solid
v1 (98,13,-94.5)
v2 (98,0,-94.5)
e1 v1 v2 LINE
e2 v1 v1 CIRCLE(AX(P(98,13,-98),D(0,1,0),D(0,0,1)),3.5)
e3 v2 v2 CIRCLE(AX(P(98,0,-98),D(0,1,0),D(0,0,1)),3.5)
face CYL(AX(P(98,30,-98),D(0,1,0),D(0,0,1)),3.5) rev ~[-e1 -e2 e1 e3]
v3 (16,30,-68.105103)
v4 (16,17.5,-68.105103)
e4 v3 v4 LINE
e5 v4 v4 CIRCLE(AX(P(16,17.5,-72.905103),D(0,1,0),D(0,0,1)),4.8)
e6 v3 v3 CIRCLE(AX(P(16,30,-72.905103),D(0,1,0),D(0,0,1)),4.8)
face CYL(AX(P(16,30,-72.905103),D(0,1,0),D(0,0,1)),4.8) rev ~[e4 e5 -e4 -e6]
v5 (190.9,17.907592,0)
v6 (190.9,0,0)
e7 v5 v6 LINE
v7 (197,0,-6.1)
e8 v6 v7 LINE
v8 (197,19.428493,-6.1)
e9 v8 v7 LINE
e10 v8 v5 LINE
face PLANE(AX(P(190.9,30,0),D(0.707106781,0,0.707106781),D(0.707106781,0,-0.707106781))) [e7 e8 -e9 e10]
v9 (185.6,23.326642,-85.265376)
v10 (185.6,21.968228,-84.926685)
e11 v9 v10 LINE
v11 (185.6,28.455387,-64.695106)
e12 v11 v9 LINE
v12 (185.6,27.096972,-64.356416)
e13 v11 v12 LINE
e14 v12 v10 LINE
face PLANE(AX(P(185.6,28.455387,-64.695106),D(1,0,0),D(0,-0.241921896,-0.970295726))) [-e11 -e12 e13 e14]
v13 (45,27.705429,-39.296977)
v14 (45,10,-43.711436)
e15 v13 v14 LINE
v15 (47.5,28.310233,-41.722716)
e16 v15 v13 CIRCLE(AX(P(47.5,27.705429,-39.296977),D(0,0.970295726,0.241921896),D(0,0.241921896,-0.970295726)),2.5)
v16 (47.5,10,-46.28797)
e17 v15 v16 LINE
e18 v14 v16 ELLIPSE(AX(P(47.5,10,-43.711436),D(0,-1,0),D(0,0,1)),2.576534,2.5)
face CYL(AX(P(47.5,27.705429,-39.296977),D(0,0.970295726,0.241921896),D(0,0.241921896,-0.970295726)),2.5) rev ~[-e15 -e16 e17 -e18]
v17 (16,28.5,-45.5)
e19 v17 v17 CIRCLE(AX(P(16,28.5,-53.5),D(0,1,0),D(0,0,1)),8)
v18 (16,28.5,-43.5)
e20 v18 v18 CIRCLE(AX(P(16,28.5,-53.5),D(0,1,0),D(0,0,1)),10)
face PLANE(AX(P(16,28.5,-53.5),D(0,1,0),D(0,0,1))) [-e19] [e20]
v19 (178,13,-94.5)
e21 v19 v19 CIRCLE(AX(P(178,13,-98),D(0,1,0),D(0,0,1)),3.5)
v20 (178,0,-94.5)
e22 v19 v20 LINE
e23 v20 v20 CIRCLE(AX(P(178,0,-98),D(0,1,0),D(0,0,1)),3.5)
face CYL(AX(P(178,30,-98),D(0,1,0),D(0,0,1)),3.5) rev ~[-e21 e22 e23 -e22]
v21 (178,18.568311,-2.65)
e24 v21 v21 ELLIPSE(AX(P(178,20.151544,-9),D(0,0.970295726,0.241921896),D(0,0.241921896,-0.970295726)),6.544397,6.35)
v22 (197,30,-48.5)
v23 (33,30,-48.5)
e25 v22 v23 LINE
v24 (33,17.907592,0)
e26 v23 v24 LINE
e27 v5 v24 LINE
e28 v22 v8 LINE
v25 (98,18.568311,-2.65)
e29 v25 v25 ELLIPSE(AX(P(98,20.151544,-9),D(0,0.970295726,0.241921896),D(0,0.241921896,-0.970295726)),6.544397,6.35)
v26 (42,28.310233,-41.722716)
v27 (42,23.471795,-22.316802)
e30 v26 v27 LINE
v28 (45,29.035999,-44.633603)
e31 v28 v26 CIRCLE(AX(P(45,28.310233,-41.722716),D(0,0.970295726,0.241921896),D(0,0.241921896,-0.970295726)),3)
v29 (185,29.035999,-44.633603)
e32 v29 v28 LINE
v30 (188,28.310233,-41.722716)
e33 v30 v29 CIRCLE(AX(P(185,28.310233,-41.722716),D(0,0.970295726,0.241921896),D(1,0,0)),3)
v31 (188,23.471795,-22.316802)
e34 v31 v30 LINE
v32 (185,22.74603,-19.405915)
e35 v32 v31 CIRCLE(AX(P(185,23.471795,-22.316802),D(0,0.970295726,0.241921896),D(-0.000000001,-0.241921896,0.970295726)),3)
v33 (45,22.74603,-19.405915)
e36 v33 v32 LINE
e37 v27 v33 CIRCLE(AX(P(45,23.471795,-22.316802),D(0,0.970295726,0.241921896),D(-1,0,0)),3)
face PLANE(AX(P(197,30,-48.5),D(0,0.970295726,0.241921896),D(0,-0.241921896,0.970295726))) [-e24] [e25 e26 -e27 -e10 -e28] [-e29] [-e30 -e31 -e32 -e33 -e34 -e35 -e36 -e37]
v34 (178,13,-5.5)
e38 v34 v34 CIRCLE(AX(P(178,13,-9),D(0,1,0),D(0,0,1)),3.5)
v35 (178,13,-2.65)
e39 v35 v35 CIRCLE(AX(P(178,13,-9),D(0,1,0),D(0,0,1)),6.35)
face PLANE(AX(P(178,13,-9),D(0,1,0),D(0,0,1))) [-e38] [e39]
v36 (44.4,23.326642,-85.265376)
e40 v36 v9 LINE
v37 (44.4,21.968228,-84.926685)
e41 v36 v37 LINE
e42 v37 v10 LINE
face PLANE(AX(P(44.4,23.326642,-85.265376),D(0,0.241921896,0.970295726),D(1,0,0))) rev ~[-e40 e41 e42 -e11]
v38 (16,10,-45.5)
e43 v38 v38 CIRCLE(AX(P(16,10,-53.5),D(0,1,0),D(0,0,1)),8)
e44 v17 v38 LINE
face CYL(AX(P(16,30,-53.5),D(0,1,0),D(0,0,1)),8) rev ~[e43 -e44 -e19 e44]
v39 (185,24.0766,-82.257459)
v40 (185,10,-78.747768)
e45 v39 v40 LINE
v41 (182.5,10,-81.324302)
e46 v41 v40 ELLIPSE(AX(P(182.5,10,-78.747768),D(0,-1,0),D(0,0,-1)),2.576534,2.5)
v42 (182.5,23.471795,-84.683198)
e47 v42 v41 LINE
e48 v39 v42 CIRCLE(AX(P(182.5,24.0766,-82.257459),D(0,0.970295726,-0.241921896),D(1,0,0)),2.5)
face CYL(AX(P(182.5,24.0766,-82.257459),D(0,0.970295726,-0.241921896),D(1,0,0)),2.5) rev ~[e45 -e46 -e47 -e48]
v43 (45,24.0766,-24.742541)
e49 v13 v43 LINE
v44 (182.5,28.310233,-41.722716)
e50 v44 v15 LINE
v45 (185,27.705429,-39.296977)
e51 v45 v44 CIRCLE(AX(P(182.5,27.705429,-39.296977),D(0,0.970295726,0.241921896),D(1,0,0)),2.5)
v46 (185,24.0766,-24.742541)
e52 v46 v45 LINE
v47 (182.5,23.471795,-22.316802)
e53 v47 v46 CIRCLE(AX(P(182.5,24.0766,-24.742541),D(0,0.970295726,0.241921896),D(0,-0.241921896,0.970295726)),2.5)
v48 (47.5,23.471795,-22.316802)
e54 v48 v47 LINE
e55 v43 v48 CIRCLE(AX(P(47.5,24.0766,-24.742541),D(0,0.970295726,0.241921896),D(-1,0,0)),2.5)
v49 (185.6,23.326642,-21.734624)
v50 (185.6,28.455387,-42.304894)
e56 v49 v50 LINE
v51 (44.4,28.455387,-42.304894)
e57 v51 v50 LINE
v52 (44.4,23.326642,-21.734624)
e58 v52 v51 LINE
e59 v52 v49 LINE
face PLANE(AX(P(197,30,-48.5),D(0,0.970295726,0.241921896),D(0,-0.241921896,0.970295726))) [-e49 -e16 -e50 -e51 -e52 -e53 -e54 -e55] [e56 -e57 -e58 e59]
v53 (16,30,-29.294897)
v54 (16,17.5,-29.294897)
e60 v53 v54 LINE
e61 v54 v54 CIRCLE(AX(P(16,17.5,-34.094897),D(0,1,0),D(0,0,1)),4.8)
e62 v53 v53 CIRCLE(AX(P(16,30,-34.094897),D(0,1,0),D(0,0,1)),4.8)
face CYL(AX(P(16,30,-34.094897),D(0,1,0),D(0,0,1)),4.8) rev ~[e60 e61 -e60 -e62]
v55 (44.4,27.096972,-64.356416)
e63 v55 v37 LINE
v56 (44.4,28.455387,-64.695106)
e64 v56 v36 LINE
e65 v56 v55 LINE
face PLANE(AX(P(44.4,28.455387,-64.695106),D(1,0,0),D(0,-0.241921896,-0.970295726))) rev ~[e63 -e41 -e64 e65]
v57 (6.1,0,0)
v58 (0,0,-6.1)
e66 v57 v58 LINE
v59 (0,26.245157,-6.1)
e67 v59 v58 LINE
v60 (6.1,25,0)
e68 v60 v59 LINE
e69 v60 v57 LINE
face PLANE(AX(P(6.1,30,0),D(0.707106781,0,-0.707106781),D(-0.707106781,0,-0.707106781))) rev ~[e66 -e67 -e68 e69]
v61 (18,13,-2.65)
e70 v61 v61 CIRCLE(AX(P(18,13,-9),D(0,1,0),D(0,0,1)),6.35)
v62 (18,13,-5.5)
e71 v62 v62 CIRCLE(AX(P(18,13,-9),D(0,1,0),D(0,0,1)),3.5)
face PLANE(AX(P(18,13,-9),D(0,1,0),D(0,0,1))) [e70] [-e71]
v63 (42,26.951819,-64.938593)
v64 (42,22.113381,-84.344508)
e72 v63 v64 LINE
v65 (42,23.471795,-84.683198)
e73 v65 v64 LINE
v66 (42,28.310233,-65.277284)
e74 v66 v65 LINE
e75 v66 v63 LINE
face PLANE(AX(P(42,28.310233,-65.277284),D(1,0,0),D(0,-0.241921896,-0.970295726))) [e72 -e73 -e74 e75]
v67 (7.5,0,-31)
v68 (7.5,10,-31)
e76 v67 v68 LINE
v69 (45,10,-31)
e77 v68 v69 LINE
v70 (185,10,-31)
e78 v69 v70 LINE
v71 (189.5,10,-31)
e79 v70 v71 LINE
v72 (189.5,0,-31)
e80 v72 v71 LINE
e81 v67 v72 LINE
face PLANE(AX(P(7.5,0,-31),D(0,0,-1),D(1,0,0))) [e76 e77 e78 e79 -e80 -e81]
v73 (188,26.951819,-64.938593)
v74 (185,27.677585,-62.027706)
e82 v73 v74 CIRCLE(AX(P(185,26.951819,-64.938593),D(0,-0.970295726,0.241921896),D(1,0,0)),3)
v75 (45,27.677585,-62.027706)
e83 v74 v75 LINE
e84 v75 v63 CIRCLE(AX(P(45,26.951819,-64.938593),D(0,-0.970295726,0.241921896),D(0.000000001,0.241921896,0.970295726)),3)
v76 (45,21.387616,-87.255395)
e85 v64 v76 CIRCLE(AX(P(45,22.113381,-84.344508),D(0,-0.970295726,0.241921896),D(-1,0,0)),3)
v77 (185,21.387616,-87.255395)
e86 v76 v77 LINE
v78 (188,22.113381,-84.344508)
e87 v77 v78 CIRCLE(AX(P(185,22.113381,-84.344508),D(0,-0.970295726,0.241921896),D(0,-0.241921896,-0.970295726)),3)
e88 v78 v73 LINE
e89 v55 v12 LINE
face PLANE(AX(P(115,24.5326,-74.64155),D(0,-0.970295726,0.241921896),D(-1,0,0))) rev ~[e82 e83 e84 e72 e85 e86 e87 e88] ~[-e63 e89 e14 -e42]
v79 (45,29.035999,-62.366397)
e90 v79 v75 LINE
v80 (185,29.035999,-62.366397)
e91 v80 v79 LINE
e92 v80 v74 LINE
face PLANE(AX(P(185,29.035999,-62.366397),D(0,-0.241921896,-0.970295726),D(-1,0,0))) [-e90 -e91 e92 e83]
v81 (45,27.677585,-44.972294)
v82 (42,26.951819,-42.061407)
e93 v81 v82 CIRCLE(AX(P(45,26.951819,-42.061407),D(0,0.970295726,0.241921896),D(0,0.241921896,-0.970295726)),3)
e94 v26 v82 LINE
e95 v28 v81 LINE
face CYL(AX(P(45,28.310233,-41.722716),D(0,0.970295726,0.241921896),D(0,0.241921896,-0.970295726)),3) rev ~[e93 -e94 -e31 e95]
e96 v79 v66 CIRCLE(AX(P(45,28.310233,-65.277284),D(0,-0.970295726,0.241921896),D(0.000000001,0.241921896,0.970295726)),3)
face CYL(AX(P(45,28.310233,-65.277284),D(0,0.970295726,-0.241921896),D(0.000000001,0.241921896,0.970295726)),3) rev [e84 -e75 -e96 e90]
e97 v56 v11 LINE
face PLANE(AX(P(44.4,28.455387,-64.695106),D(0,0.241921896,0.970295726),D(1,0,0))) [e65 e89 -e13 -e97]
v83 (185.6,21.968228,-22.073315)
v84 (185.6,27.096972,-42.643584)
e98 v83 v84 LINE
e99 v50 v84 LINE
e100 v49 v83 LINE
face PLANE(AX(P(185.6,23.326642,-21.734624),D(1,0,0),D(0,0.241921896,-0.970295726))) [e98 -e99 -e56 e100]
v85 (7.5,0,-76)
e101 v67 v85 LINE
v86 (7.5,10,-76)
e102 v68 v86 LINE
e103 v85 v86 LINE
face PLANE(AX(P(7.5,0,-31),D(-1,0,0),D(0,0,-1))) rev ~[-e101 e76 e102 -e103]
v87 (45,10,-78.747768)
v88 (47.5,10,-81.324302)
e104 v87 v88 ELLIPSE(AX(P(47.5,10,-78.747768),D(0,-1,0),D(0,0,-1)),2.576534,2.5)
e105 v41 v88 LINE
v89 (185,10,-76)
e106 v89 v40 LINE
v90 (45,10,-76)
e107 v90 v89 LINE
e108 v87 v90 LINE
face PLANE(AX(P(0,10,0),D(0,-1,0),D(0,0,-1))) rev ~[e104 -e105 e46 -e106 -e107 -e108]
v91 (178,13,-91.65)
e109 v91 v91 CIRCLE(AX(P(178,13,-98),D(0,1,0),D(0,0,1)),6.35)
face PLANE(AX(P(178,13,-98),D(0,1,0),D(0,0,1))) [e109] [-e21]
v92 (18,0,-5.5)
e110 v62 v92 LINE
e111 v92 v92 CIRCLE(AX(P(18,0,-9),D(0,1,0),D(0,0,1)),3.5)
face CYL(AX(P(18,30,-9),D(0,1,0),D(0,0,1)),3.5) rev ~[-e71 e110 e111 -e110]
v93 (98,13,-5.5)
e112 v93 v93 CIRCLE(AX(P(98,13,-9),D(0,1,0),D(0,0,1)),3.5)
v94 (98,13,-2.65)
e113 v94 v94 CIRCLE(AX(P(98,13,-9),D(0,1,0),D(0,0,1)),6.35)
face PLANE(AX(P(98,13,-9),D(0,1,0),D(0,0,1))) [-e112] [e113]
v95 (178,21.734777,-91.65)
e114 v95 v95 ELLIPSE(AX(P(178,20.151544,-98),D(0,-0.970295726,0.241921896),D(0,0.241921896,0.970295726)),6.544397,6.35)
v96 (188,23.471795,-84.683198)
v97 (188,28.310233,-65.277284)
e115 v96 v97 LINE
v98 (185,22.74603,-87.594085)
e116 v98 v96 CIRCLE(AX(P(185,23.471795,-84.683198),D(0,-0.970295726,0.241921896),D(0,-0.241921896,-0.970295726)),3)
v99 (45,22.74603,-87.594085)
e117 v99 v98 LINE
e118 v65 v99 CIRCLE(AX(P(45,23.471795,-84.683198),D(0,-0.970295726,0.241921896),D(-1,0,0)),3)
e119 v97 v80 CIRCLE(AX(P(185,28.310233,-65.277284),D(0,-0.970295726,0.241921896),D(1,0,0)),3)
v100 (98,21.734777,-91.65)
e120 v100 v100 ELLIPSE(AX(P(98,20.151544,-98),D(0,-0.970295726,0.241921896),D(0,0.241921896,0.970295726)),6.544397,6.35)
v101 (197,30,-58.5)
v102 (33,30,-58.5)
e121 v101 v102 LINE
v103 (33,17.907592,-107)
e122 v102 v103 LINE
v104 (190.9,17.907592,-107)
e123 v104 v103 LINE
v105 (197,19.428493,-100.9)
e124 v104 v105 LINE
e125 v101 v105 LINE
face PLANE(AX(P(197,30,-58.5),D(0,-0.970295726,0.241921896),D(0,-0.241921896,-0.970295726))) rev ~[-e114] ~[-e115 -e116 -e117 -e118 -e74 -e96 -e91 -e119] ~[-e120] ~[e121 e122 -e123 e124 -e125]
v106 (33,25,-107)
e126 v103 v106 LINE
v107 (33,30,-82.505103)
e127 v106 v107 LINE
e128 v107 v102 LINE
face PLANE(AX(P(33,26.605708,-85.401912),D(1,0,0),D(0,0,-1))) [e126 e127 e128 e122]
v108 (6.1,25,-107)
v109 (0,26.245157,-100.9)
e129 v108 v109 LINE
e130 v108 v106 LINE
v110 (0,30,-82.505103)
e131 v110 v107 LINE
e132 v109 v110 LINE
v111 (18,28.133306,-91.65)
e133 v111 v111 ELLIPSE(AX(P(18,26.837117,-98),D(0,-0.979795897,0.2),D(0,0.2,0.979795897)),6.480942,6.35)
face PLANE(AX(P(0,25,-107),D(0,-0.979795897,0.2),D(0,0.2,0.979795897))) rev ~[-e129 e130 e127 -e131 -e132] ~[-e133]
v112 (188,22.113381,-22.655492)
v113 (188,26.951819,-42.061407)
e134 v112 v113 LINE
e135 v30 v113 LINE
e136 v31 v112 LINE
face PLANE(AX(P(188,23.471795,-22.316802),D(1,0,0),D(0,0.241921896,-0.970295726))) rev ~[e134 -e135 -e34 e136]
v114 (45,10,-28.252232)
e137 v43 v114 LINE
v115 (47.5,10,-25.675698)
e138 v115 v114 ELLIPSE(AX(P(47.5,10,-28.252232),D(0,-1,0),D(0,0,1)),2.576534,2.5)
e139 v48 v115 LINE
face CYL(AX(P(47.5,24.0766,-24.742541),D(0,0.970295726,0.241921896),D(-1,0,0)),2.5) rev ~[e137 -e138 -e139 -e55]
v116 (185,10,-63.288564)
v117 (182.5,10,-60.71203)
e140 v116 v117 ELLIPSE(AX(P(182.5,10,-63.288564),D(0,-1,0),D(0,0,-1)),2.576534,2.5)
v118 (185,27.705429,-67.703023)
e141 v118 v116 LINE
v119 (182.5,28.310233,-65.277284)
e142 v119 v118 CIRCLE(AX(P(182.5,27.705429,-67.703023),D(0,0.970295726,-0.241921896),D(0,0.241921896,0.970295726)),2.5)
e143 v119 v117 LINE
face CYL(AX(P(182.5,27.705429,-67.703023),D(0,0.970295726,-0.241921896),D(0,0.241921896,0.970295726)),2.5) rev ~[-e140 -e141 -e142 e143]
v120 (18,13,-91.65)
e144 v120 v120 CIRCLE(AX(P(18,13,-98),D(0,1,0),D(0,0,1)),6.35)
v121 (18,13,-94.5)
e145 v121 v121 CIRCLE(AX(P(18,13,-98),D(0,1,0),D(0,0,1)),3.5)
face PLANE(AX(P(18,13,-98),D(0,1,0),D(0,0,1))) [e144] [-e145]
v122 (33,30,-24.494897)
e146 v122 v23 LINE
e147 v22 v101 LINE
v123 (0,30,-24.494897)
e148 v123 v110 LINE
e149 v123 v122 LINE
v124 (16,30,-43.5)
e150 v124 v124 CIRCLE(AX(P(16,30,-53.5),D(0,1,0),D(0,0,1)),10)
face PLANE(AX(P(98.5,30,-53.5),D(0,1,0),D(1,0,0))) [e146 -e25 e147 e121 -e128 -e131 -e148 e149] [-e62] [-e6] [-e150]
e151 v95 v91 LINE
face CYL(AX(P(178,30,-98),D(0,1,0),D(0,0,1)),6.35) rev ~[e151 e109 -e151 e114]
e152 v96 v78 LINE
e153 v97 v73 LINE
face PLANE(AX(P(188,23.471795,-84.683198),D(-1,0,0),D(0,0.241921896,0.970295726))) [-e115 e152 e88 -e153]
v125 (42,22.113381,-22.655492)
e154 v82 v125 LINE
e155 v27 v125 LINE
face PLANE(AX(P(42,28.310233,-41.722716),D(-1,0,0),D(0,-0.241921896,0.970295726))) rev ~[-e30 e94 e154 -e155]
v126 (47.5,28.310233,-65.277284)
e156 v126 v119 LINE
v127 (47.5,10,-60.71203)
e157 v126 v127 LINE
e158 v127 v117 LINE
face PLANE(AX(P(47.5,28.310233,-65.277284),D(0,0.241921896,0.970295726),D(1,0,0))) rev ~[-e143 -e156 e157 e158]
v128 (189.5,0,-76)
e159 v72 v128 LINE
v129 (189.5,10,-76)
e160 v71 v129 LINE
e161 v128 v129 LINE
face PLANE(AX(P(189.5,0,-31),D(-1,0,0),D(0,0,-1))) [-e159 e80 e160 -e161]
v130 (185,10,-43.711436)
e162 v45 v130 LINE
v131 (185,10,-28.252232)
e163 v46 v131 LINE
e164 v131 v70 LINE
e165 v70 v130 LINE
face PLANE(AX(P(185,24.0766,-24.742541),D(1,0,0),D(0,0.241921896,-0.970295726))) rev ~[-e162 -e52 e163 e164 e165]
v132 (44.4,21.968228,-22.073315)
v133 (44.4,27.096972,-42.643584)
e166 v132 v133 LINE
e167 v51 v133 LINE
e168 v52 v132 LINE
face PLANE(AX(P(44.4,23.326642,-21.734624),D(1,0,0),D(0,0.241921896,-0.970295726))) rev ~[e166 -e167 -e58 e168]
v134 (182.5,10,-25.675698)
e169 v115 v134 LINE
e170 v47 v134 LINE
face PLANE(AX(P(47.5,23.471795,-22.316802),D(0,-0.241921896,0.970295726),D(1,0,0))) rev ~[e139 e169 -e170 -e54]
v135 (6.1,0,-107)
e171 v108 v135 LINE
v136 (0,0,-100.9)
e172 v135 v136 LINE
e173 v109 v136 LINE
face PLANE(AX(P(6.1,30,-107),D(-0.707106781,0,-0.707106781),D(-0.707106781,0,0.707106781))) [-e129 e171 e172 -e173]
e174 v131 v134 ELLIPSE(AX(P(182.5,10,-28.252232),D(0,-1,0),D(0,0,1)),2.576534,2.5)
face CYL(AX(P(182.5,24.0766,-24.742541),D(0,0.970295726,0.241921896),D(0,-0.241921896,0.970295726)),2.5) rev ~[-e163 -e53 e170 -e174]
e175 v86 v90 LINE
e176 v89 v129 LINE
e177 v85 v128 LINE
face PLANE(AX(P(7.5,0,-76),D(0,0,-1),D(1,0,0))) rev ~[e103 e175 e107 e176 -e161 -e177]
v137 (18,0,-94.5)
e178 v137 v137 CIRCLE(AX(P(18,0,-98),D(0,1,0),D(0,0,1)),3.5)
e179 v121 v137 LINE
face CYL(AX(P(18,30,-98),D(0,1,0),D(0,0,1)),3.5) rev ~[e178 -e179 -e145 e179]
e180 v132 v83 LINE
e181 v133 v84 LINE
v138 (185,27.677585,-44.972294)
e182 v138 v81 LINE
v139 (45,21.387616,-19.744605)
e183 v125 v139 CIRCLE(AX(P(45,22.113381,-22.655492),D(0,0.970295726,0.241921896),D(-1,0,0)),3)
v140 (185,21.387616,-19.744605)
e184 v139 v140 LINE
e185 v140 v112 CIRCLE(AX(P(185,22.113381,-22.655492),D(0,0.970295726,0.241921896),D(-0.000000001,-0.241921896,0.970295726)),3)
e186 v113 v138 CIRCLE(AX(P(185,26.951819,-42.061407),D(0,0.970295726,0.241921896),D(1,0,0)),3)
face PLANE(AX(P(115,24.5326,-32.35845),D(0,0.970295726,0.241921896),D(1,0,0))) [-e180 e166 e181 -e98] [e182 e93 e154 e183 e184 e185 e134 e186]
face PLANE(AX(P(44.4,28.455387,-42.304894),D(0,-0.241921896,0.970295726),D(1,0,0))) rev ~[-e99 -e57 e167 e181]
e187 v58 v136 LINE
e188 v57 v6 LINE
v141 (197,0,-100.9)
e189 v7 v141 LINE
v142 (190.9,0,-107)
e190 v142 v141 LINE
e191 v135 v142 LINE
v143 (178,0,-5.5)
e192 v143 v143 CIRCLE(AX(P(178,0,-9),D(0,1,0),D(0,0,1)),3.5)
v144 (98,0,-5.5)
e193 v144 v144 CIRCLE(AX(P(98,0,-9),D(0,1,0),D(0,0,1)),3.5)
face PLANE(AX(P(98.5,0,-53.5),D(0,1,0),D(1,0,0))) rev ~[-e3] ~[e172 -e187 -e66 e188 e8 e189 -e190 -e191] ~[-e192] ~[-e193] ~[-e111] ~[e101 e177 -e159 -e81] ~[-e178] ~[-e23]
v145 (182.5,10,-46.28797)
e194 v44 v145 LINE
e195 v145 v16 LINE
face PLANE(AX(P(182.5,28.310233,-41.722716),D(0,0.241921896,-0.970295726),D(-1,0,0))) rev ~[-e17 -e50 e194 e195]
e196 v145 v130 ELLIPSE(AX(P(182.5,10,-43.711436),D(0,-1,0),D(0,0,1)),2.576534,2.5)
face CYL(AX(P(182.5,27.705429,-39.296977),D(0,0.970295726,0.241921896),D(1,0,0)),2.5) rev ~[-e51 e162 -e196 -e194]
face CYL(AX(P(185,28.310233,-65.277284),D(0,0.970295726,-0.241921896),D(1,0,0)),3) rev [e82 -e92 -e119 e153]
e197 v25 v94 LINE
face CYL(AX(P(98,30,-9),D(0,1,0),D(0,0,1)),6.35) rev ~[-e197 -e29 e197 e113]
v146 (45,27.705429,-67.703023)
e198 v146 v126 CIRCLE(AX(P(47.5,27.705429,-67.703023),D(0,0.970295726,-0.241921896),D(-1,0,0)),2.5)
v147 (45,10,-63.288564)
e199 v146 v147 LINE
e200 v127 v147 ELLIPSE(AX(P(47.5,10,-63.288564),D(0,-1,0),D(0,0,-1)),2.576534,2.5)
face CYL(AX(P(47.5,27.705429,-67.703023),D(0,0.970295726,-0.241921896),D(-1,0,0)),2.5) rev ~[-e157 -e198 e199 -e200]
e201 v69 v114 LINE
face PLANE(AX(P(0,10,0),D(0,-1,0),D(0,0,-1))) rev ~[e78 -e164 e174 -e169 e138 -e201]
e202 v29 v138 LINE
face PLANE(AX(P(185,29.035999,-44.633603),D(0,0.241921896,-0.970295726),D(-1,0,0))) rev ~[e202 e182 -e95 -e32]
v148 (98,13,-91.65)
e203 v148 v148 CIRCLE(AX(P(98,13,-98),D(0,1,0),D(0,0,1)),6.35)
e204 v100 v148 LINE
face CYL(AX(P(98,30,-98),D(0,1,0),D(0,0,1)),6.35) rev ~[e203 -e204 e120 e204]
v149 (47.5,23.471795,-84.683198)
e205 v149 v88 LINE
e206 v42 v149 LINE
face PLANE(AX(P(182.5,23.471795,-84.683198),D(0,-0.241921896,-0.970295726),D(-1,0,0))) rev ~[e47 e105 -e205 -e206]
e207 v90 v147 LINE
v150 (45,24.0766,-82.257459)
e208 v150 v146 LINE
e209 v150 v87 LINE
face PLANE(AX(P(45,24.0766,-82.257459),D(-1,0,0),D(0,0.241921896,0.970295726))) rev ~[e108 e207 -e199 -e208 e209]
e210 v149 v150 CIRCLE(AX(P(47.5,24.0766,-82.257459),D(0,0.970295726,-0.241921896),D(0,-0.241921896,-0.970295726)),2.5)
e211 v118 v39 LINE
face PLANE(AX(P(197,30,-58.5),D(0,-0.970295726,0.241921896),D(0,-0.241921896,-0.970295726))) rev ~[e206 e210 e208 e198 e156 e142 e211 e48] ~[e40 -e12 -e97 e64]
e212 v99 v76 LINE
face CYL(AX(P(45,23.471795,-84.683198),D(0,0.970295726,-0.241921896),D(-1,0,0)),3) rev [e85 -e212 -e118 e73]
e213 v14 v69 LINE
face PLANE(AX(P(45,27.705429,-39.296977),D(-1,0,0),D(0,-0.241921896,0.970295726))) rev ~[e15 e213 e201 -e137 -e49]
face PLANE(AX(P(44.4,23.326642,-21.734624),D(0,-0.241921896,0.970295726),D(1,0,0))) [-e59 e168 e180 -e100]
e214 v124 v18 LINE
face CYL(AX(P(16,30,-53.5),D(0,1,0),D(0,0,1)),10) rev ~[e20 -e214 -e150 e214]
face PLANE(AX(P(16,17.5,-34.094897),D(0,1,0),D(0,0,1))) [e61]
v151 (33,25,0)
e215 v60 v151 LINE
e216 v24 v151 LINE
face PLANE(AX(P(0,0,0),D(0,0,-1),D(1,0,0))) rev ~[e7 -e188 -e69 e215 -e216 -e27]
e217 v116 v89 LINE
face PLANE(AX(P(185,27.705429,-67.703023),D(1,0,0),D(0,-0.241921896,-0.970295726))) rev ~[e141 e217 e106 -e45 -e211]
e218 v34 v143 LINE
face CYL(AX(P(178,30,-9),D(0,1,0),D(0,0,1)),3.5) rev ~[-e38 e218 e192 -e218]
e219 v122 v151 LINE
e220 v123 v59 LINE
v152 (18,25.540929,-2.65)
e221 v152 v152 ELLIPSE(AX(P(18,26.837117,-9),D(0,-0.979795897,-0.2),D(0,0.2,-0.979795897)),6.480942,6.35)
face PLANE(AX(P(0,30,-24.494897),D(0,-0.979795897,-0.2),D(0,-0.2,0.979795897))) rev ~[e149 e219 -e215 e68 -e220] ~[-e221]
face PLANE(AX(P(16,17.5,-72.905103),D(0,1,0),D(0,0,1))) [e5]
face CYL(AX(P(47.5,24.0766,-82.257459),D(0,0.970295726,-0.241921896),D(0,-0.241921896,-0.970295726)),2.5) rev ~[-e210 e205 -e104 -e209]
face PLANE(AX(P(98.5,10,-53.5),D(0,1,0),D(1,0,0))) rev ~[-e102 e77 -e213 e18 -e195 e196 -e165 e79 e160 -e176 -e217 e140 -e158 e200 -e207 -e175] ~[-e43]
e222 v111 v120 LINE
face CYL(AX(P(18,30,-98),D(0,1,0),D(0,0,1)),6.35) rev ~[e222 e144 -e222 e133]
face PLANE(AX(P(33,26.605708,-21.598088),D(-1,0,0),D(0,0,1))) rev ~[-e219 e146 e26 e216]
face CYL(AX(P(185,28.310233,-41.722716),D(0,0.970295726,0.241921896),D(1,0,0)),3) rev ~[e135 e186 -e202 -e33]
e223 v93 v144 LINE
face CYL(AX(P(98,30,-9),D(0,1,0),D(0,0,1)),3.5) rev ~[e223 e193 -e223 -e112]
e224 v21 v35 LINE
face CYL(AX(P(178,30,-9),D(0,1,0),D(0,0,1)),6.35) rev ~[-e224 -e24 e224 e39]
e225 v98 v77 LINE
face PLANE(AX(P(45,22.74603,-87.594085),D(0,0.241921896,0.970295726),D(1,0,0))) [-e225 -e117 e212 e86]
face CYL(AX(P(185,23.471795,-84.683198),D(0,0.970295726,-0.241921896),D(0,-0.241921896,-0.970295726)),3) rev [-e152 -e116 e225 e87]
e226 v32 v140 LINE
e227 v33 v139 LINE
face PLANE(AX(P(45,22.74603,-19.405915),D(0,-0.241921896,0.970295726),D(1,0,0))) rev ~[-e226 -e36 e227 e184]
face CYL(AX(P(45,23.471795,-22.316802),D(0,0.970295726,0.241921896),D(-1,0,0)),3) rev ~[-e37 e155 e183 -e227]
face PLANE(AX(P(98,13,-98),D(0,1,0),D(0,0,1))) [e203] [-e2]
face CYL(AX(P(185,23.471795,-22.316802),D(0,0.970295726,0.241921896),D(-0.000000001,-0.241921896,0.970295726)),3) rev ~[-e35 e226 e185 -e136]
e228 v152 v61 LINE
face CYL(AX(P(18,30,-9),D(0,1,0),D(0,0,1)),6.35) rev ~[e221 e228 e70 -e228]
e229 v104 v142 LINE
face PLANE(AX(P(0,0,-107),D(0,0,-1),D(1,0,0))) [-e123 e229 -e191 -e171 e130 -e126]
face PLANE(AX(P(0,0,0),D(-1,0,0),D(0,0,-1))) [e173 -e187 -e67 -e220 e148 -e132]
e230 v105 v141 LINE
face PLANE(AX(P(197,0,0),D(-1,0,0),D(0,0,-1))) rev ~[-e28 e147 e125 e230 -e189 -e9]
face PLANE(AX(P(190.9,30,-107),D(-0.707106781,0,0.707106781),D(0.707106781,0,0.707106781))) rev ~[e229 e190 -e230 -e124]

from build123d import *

# Parameters (mm, degrees)
SKETCH1_W           = 197
SKETCH1_H           = 107
BOSS_EXTRUDE1_DEPTH = 30
CUT_EXTRUDE1_DEPTH  = 227.181343174
SKETCH4_W           = 182
SKETCH4_H           = 45
CUT_EXTRUDE2_DEPTH  = 10
CUT_EXTRUDE3_DEPTH  = 164
SKETCH19_W          = 141.2
SKETCH19_H          = 21.2
CUT_EXTRUDE15_DEPTH = 1.4
SKETCH6_W           = 141.2
SKETCH6_H           = 21.2
CUT_EXTRUDE4_DEPTH  = 1.4
CUT_EXTRUDE5_REACH  = 228.181
SKETCH9_R           = 8
CUT_EXTRUDE6_DEPTH  = 171
SKETCH10_R          = 10
CUT_EXTRUDE7_DEPTH  = 1.5
SKETCH11_R          = 4.8
CUT_EXTRUDE8_DEPTH  = 12.5
SKETCH12_R          = 6.35
CUT_EXTRUDE9_DEPTH  = 17
CUT_EXTRUDE13_REACH = 225.36
SKETCH17_R          = 3.5
CUT_EXTRUDE14_DEPTH = 227.181343174
CUT_EXTRUDE16_REACH = 228.847


with BuildPart() as part:
    # Sketch1 → Boss-Extrude1 (new body)
    with BuildSketch(Plane(origin=(0, 0, 0), x_dir=(1, 0, 0), z_dir=(0, 1, 0))):
        with Locations((98.5, 53.5)):
            Rectangle(SKETCH1_W, SKETCH1_H)
    extrude(amount=BOSS_EXTRUDE1_DEPTH)

    # Sketch3 → Cut-Extrude1 (cut, through all)
    with BuildSketch(Plane(origin=(0, 30, 0), x_dir=(1, 0, 0), z_dir=(0, 1, 0))):
        Polygon((0, 0), (6.1, 0), (0, 6.1), align=None)
        Polygon((0, 107), (6.1, 107), (0, 100.9), align=None)
        Polygon((197, 100.9), (197, 107), (190.9, 107), align=None)
        Polygon((197, 6.1), (197, 0), (190.9, 0), align=None)
    extrude(amount=-CUT_EXTRUDE1_DEPTH, mode=Mode.SUBTRACT)

    # Sketch4 → Cut-Extrude2 (cut)
    with BuildSketch(Plane(origin=(0, 0, 0), x_dir=(1, 0, 0), z_dir=(0, 1, 0))):
        with Locations((98.5, 53.5)):
            Rectangle(SKETCH4_W, SKETCH4_H)
    extrude(amount=CUT_EXTRUDE2_DEPTH, mode=Mode.SUBTRACT)

    # Sketch5 → Cut-Extrude3 (cut)
    with BuildSketch(Plane(origin=(197, 0, 0), x_dir=(0, 0, -1), z_dir=(1, 0, 0))):
        Polygon((58.5, 30), (107, 17.907591862), (107, 30), align=None)
        Polygon((0, 17.907591862), (0, 30), (48.5, 30), align=None)
    extrude(amount=-CUT_EXTRUDE3_DEPTH, mode=Mode.SUBTRACT)

    # Sketch19 → Cut-Extrude15 (cut)
    with BuildSketch(Plane(origin=(0, 16.859528495, 4.203552569), x_dir=(1, 0, 0), z_dir=(0, 0.9702957262759979, 0.2419218955996617))):
        with BuildLine():
            Line((45, 24.332238569), (185, 24.332238569))
            ThreePointArc((185, 24.332238569), (187.121320344, 25.210918225), (188, 27.332238569))
            Line((188, 27.332238569), (188, 47.332238569))
            ThreePointArc((188, 47.332238569), (187.121320344, 49.453558912), (185, 50.332238569))
            Line((185, 50.332238569), (45, 50.332238569))
            ThreePointArc((45, 50.332238569), (42.878679656, 49.453558912), (42, 47.332238569))
            Line((42, 47.332238569), (42, 27.332238569))
            ThreePointArc((42, 27.332238569), (42.878679656, 25.210918225), (45, 24.332238569))
        make_face()
        with Locations((115, 37.332238569)):
            Rectangle(SKETCH19_W, SKETCH19_H, mode=Mode.SUBTRACT)
    extrude(amount=-CUT_EXTRUDE15_DEPTH, mode=Mode.SUBTRACT)

    # Sketch6 → Cut-Extrude4 (cut)
    with BuildSketch(Plane(origin=(0, 41.976257104, -10.465856351), x_dir=(1, 0, 0), z_dir=(0, 0.9702957262759981, -0.24192189559966115))):
        with BuildLine():
            Line((45, 79.489404143), (185, 79.489404143))
            ThreePointArc((185, 79.489404143), (187.121320344, 78.610724486), (188, 76.489404143))
            Line((188, 76.489404143), (188, 56.489404143))
            ThreePointArc((188, 56.489404143), (187.121320344, 54.368083799), (185, 53.489404143))
            Line((185, 53.489404143), (45, 53.489404143))
            ThreePointArc((45, 53.489404143), (42.878679656, 54.368083799), (42, 56.489404143))
            Line((42, 56.489404143), (42, 76.489404143))
            ThreePointArc((42, 76.489404143), (42.878679656, 78.610724486), (45, 79.489404143))
        make_face()
        with Locations((115, 66.489404143)):
            Rectangle(SKETCH6_W, SKETCH6_H, mode=Mode.SUBTRACT)
    extrude(amount=-CUT_EXTRUDE4_DEPTH, mode=Mode.SUBTRACT)

    # Cut-Extrude5: up to this face of the body (flat: up to its plane)
    cut_extrude5_end = Plane(part.part.faces().sort_by_distance((33, 25.969197287, -90.833333333))[0])
    # Sketch7 → Cut-Extrude5 (cut, up to the picked face)
    with BuildSketch(Plane(origin=(0, 0, 0), x_dir=(0, 0, -1), z_dir=(1, 0, 0)), mode=Mode.PRIVATE) as cut_extrude5_sk1:
        Polygon((107, 30), (107, 25), (82.505102572, 30), align=None)
    cut_extrude5_tool1 = split(extrude(cut_extrude5_sk1.sketch, amount=CUT_EXTRUDE5_REACH, mode=Mode.PRIVATE), bisect_by=cut_extrude5_end, keep=Keep.BOTH, mode=Mode.PRIVATE)
    # Sketch7 → Cut-Extrude5 (cut, up to the picked face)
    with BuildSketch(Plane(origin=(0, 0, 0), x_dir=(0, 0, -1), z_dir=(1, 0, 0)), mode=Mode.PRIVATE) as cut_extrude5_sk2:
        Polygon((0, 25), (0, 30), (24.494897428, 30), align=None)
    cut_extrude5_tool2 = split(extrude(cut_extrude5_sk2.sketch, amount=CUT_EXTRUDE5_REACH, mode=Mode.PRIVATE), bisect_by=cut_extrude5_end, keep=Keep.BOTH, mode=Mode.PRIVATE)
    add(cut_extrude5_tool1.solids().sort_by(Axis((0, 28.333333, -98.835034), (1, 0, 0)))[0], mode=Mode.SUBTRACT)
    add(cut_extrude5_tool2.solids().sort_by(Axis((0, 28.333333, -8.164966), (1, 0, 0)))[0], mode=Mode.SUBTRACT)

    # Sketch9 → Cut-Extrude6 (cut)
    with BuildSketch(Plane(origin=(0, 30, 0), x_dir=(1, 0, 0), z_dir=(0, 1, 0))):
        with Locations(Location((16, 53.5, 0), (0, 0, 270))):
            Circle(SKETCH9_R)
    extrude(amount=-CUT_EXTRUDE6_DEPTH, mode=Mode.SUBTRACT)

    # Sketch10 → Cut-Extrude7 (cut)
    with BuildSketch(Plane(origin=(0, 30, 0), x_dir=(1, 0, 0), z_dir=(0, 1, 0))):
        with Locations(Location((16, 53.5, 0), (0, 0, 270))):
            Circle(SKETCH10_R)
    extrude(amount=-CUT_EXTRUDE7_DEPTH, mode=Mode.SUBTRACT)

    # Sketch11 → Cut-Extrude8 (cut)
    with BuildSketch(Plane(origin=(0, 30, 0), x_dir=(1, 0, 0), z_dir=(0, 1, 0))):
        with Locations(Location((16, 72.905102572, 0), (0, 0, 270))):
            Circle(SKETCH11_R)
        with Locations(Location((16, 34.094897428, 0), (0, 0, 270))):
            Circle(SKETCH11_R)
    extrude(amount=-CUT_EXTRUDE8_DEPTH, mode=Mode.SUBTRACT)

    # Sketch12 → Cut-Extrude9 (cut)
    with BuildSketch(Plane(origin=(0, 30, 0), x_dir=(1, 0, 0), z_dir=(0, 1, 0))):
        with Locations(Location((18, 98, 0), (0, 0, 270))):
            Circle(SKETCH12_R)
        with Locations(Location((98, 9, 0), (0, 0, 270))):
            Circle(SKETCH12_R)
        with Locations(Location((178, 9, 0), (0, 0, 270))):
            Circle(SKETCH12_R)
        with Locations(Location((18, 9, 0), (0, 0, 270))):
            Circle(SKETCH12_R)
        with Locations(Location((98, 98, 0), (0, 0, 270))):
            Circle(SKETCH12_R)
        with Locations(Location((178, 98, 0), (0, 0, 270))):
            Circle(SKETCH12_R)
    extrude(amount=-CUT_EXTRUDE9_DEPTH, mode=Mode.SUBTRACT)

    # Cut-Extrude13: up to this plane
    cut_extrude13_end = Plane(origin=(0, 10, 0), z_dir=(0, -1, 0))
    # Sketch16 → Cut-Extrude13 (cut, up to the surface)
    with BuildSketch(Plane(origin=(0, 41.976257104, -10.465856351), x_dir=(1, 0, 0), z_dir=(0, 0.9702957262759981, -0.24192189559966115)), mode=Mode.PRIVATE) as cut_extrude13_sk1:
        with BuildLine():
            Line((47.5, 56.489404143), (182.5, 56.489404143))
            ThreePointArc((182.5, 56.489404143), (184.267766953, 57.22163719), (185, 58.989404143))
            Line((185, 58.989404143), (185, 73.989404143))
            ThreePointArc((185, 73.989404143), (184.267766953, 75.757171096), (182.5, 76.489404143))
            Line((182.5, 76.489404143), (47.5, 76.489404143))
            ThreePointArc((47.5, 76.489404143), (45.732233047, 75.757171096), (45, 73.989404143))
            Line((45, 73.989404143), (45, 58.989404143))
            ThreePointArc((45, 58.989404143), (45.732233047, 57.22163719), (47.5, 56.489404143))
        make_face()
    cut_extrude13_tool1 = split(extrude(cut_extrude13_sk1.sketch, amount=-CUT_EXTRUDE13_REACH, mode=Mode.PRIVATE), bisect_by=cut_extrude13_end, keep=Keep.BOTH, mode=Mode.PRIVATE)
    add(cut_extrude13_tool1.solids().sort_by_distance((115, 25.891014, -74.980241))[0], mode=Mode.SUBTRACT)

    # Sketch17 → Cut-Extrude14 (cut, through all)
    with BuildSketch(Plane(origin=(0, 30, 0), x_dir=(1, 0, 0), z_dir=(0, 1, 0))):
        with Locations(Location((18, 9, 0), (0, 0, 270))):
            Circle(SKETCH17_R)
        with Locations(Location((18, 98, 0), (0, 0, 270))):
            Circle(SKETCH17_R)
        with Locations(Location((98, 98, 0), (0, 0, 270))):
            Circle(SKETCH17_R)
        with Locations(Location((178, 98, 0), (0, 0, 270))):
            Circle(SKETCH17_R)
        with Locations(Location((178, 9, 0), (0, 0, 270))):
            Circle(SKETCH17_R)
        with Locations(Location((98, 9, 0), (0, 0, 270))):
            Circle(SKETCH17_R)
    extrude(amount=-CUT_EXTRUDE14_DEPTH, mode=Mode.SUBTRACT)

    # Cut-Extrude16: up to this plane
    cut_extrude16_end = Plane(origin=(0, 10, 0), z_dir=(0, -1, 0))
    # Sketch20 → Cut-Extrude16 (cut, up to the surface)
    with BuildSketch(Plane(origin=(0, 16.859528495, 4.203552569), x_dir=(1, 0, 0), z_dir=(0, 0.9702957262759979, 0.2419218955996617)), mode=Mode.PRIVATE) as cut_extrude16_sk1:
        with BuildLine():
            Line((47.5, 27.332238569), (182.5, 27.332238569))
            ThreePointArc((182.5, 27.332238569), (184.267766953, 28.064471616), (185, 29.832238569))
            Line((185, 29.832238569), (185, 44.832238569))
            ThreePointArc((185, 44.832238569), (184.267766953, 46.600005522), (182.5, 47.332238569))
            Line((182.5, 47.332238569), (47.5, 47.332238569))
            ThreePointArc((47.5, 47.332238569), (45.732233047, 46.600005522), (45, 44.832238569))
            Line((45, 44.832238569), (45, 29.832238569))
            ThreePointArc((45, 29.832238569), (45.732233047, 28.064471616), (47.5, 27.332238569))
        make_face()
    cut_extrude16_tool1 = split(extrude(cut_extrude16_sk1.sketch, amount=-CUT_EXTRUDE16_REACH, mode=Mode.PRIVATE), bisect_by=cut_extrude16_end, keep=Keep.BOTH, mode=Mode.PRIVATE)
    add(cut_extrude16_tool1.solids().sort_by_distance((115, 25.891014, -32.019759))[0], mode=Mode.SUBTRACT)


solid = part.part
